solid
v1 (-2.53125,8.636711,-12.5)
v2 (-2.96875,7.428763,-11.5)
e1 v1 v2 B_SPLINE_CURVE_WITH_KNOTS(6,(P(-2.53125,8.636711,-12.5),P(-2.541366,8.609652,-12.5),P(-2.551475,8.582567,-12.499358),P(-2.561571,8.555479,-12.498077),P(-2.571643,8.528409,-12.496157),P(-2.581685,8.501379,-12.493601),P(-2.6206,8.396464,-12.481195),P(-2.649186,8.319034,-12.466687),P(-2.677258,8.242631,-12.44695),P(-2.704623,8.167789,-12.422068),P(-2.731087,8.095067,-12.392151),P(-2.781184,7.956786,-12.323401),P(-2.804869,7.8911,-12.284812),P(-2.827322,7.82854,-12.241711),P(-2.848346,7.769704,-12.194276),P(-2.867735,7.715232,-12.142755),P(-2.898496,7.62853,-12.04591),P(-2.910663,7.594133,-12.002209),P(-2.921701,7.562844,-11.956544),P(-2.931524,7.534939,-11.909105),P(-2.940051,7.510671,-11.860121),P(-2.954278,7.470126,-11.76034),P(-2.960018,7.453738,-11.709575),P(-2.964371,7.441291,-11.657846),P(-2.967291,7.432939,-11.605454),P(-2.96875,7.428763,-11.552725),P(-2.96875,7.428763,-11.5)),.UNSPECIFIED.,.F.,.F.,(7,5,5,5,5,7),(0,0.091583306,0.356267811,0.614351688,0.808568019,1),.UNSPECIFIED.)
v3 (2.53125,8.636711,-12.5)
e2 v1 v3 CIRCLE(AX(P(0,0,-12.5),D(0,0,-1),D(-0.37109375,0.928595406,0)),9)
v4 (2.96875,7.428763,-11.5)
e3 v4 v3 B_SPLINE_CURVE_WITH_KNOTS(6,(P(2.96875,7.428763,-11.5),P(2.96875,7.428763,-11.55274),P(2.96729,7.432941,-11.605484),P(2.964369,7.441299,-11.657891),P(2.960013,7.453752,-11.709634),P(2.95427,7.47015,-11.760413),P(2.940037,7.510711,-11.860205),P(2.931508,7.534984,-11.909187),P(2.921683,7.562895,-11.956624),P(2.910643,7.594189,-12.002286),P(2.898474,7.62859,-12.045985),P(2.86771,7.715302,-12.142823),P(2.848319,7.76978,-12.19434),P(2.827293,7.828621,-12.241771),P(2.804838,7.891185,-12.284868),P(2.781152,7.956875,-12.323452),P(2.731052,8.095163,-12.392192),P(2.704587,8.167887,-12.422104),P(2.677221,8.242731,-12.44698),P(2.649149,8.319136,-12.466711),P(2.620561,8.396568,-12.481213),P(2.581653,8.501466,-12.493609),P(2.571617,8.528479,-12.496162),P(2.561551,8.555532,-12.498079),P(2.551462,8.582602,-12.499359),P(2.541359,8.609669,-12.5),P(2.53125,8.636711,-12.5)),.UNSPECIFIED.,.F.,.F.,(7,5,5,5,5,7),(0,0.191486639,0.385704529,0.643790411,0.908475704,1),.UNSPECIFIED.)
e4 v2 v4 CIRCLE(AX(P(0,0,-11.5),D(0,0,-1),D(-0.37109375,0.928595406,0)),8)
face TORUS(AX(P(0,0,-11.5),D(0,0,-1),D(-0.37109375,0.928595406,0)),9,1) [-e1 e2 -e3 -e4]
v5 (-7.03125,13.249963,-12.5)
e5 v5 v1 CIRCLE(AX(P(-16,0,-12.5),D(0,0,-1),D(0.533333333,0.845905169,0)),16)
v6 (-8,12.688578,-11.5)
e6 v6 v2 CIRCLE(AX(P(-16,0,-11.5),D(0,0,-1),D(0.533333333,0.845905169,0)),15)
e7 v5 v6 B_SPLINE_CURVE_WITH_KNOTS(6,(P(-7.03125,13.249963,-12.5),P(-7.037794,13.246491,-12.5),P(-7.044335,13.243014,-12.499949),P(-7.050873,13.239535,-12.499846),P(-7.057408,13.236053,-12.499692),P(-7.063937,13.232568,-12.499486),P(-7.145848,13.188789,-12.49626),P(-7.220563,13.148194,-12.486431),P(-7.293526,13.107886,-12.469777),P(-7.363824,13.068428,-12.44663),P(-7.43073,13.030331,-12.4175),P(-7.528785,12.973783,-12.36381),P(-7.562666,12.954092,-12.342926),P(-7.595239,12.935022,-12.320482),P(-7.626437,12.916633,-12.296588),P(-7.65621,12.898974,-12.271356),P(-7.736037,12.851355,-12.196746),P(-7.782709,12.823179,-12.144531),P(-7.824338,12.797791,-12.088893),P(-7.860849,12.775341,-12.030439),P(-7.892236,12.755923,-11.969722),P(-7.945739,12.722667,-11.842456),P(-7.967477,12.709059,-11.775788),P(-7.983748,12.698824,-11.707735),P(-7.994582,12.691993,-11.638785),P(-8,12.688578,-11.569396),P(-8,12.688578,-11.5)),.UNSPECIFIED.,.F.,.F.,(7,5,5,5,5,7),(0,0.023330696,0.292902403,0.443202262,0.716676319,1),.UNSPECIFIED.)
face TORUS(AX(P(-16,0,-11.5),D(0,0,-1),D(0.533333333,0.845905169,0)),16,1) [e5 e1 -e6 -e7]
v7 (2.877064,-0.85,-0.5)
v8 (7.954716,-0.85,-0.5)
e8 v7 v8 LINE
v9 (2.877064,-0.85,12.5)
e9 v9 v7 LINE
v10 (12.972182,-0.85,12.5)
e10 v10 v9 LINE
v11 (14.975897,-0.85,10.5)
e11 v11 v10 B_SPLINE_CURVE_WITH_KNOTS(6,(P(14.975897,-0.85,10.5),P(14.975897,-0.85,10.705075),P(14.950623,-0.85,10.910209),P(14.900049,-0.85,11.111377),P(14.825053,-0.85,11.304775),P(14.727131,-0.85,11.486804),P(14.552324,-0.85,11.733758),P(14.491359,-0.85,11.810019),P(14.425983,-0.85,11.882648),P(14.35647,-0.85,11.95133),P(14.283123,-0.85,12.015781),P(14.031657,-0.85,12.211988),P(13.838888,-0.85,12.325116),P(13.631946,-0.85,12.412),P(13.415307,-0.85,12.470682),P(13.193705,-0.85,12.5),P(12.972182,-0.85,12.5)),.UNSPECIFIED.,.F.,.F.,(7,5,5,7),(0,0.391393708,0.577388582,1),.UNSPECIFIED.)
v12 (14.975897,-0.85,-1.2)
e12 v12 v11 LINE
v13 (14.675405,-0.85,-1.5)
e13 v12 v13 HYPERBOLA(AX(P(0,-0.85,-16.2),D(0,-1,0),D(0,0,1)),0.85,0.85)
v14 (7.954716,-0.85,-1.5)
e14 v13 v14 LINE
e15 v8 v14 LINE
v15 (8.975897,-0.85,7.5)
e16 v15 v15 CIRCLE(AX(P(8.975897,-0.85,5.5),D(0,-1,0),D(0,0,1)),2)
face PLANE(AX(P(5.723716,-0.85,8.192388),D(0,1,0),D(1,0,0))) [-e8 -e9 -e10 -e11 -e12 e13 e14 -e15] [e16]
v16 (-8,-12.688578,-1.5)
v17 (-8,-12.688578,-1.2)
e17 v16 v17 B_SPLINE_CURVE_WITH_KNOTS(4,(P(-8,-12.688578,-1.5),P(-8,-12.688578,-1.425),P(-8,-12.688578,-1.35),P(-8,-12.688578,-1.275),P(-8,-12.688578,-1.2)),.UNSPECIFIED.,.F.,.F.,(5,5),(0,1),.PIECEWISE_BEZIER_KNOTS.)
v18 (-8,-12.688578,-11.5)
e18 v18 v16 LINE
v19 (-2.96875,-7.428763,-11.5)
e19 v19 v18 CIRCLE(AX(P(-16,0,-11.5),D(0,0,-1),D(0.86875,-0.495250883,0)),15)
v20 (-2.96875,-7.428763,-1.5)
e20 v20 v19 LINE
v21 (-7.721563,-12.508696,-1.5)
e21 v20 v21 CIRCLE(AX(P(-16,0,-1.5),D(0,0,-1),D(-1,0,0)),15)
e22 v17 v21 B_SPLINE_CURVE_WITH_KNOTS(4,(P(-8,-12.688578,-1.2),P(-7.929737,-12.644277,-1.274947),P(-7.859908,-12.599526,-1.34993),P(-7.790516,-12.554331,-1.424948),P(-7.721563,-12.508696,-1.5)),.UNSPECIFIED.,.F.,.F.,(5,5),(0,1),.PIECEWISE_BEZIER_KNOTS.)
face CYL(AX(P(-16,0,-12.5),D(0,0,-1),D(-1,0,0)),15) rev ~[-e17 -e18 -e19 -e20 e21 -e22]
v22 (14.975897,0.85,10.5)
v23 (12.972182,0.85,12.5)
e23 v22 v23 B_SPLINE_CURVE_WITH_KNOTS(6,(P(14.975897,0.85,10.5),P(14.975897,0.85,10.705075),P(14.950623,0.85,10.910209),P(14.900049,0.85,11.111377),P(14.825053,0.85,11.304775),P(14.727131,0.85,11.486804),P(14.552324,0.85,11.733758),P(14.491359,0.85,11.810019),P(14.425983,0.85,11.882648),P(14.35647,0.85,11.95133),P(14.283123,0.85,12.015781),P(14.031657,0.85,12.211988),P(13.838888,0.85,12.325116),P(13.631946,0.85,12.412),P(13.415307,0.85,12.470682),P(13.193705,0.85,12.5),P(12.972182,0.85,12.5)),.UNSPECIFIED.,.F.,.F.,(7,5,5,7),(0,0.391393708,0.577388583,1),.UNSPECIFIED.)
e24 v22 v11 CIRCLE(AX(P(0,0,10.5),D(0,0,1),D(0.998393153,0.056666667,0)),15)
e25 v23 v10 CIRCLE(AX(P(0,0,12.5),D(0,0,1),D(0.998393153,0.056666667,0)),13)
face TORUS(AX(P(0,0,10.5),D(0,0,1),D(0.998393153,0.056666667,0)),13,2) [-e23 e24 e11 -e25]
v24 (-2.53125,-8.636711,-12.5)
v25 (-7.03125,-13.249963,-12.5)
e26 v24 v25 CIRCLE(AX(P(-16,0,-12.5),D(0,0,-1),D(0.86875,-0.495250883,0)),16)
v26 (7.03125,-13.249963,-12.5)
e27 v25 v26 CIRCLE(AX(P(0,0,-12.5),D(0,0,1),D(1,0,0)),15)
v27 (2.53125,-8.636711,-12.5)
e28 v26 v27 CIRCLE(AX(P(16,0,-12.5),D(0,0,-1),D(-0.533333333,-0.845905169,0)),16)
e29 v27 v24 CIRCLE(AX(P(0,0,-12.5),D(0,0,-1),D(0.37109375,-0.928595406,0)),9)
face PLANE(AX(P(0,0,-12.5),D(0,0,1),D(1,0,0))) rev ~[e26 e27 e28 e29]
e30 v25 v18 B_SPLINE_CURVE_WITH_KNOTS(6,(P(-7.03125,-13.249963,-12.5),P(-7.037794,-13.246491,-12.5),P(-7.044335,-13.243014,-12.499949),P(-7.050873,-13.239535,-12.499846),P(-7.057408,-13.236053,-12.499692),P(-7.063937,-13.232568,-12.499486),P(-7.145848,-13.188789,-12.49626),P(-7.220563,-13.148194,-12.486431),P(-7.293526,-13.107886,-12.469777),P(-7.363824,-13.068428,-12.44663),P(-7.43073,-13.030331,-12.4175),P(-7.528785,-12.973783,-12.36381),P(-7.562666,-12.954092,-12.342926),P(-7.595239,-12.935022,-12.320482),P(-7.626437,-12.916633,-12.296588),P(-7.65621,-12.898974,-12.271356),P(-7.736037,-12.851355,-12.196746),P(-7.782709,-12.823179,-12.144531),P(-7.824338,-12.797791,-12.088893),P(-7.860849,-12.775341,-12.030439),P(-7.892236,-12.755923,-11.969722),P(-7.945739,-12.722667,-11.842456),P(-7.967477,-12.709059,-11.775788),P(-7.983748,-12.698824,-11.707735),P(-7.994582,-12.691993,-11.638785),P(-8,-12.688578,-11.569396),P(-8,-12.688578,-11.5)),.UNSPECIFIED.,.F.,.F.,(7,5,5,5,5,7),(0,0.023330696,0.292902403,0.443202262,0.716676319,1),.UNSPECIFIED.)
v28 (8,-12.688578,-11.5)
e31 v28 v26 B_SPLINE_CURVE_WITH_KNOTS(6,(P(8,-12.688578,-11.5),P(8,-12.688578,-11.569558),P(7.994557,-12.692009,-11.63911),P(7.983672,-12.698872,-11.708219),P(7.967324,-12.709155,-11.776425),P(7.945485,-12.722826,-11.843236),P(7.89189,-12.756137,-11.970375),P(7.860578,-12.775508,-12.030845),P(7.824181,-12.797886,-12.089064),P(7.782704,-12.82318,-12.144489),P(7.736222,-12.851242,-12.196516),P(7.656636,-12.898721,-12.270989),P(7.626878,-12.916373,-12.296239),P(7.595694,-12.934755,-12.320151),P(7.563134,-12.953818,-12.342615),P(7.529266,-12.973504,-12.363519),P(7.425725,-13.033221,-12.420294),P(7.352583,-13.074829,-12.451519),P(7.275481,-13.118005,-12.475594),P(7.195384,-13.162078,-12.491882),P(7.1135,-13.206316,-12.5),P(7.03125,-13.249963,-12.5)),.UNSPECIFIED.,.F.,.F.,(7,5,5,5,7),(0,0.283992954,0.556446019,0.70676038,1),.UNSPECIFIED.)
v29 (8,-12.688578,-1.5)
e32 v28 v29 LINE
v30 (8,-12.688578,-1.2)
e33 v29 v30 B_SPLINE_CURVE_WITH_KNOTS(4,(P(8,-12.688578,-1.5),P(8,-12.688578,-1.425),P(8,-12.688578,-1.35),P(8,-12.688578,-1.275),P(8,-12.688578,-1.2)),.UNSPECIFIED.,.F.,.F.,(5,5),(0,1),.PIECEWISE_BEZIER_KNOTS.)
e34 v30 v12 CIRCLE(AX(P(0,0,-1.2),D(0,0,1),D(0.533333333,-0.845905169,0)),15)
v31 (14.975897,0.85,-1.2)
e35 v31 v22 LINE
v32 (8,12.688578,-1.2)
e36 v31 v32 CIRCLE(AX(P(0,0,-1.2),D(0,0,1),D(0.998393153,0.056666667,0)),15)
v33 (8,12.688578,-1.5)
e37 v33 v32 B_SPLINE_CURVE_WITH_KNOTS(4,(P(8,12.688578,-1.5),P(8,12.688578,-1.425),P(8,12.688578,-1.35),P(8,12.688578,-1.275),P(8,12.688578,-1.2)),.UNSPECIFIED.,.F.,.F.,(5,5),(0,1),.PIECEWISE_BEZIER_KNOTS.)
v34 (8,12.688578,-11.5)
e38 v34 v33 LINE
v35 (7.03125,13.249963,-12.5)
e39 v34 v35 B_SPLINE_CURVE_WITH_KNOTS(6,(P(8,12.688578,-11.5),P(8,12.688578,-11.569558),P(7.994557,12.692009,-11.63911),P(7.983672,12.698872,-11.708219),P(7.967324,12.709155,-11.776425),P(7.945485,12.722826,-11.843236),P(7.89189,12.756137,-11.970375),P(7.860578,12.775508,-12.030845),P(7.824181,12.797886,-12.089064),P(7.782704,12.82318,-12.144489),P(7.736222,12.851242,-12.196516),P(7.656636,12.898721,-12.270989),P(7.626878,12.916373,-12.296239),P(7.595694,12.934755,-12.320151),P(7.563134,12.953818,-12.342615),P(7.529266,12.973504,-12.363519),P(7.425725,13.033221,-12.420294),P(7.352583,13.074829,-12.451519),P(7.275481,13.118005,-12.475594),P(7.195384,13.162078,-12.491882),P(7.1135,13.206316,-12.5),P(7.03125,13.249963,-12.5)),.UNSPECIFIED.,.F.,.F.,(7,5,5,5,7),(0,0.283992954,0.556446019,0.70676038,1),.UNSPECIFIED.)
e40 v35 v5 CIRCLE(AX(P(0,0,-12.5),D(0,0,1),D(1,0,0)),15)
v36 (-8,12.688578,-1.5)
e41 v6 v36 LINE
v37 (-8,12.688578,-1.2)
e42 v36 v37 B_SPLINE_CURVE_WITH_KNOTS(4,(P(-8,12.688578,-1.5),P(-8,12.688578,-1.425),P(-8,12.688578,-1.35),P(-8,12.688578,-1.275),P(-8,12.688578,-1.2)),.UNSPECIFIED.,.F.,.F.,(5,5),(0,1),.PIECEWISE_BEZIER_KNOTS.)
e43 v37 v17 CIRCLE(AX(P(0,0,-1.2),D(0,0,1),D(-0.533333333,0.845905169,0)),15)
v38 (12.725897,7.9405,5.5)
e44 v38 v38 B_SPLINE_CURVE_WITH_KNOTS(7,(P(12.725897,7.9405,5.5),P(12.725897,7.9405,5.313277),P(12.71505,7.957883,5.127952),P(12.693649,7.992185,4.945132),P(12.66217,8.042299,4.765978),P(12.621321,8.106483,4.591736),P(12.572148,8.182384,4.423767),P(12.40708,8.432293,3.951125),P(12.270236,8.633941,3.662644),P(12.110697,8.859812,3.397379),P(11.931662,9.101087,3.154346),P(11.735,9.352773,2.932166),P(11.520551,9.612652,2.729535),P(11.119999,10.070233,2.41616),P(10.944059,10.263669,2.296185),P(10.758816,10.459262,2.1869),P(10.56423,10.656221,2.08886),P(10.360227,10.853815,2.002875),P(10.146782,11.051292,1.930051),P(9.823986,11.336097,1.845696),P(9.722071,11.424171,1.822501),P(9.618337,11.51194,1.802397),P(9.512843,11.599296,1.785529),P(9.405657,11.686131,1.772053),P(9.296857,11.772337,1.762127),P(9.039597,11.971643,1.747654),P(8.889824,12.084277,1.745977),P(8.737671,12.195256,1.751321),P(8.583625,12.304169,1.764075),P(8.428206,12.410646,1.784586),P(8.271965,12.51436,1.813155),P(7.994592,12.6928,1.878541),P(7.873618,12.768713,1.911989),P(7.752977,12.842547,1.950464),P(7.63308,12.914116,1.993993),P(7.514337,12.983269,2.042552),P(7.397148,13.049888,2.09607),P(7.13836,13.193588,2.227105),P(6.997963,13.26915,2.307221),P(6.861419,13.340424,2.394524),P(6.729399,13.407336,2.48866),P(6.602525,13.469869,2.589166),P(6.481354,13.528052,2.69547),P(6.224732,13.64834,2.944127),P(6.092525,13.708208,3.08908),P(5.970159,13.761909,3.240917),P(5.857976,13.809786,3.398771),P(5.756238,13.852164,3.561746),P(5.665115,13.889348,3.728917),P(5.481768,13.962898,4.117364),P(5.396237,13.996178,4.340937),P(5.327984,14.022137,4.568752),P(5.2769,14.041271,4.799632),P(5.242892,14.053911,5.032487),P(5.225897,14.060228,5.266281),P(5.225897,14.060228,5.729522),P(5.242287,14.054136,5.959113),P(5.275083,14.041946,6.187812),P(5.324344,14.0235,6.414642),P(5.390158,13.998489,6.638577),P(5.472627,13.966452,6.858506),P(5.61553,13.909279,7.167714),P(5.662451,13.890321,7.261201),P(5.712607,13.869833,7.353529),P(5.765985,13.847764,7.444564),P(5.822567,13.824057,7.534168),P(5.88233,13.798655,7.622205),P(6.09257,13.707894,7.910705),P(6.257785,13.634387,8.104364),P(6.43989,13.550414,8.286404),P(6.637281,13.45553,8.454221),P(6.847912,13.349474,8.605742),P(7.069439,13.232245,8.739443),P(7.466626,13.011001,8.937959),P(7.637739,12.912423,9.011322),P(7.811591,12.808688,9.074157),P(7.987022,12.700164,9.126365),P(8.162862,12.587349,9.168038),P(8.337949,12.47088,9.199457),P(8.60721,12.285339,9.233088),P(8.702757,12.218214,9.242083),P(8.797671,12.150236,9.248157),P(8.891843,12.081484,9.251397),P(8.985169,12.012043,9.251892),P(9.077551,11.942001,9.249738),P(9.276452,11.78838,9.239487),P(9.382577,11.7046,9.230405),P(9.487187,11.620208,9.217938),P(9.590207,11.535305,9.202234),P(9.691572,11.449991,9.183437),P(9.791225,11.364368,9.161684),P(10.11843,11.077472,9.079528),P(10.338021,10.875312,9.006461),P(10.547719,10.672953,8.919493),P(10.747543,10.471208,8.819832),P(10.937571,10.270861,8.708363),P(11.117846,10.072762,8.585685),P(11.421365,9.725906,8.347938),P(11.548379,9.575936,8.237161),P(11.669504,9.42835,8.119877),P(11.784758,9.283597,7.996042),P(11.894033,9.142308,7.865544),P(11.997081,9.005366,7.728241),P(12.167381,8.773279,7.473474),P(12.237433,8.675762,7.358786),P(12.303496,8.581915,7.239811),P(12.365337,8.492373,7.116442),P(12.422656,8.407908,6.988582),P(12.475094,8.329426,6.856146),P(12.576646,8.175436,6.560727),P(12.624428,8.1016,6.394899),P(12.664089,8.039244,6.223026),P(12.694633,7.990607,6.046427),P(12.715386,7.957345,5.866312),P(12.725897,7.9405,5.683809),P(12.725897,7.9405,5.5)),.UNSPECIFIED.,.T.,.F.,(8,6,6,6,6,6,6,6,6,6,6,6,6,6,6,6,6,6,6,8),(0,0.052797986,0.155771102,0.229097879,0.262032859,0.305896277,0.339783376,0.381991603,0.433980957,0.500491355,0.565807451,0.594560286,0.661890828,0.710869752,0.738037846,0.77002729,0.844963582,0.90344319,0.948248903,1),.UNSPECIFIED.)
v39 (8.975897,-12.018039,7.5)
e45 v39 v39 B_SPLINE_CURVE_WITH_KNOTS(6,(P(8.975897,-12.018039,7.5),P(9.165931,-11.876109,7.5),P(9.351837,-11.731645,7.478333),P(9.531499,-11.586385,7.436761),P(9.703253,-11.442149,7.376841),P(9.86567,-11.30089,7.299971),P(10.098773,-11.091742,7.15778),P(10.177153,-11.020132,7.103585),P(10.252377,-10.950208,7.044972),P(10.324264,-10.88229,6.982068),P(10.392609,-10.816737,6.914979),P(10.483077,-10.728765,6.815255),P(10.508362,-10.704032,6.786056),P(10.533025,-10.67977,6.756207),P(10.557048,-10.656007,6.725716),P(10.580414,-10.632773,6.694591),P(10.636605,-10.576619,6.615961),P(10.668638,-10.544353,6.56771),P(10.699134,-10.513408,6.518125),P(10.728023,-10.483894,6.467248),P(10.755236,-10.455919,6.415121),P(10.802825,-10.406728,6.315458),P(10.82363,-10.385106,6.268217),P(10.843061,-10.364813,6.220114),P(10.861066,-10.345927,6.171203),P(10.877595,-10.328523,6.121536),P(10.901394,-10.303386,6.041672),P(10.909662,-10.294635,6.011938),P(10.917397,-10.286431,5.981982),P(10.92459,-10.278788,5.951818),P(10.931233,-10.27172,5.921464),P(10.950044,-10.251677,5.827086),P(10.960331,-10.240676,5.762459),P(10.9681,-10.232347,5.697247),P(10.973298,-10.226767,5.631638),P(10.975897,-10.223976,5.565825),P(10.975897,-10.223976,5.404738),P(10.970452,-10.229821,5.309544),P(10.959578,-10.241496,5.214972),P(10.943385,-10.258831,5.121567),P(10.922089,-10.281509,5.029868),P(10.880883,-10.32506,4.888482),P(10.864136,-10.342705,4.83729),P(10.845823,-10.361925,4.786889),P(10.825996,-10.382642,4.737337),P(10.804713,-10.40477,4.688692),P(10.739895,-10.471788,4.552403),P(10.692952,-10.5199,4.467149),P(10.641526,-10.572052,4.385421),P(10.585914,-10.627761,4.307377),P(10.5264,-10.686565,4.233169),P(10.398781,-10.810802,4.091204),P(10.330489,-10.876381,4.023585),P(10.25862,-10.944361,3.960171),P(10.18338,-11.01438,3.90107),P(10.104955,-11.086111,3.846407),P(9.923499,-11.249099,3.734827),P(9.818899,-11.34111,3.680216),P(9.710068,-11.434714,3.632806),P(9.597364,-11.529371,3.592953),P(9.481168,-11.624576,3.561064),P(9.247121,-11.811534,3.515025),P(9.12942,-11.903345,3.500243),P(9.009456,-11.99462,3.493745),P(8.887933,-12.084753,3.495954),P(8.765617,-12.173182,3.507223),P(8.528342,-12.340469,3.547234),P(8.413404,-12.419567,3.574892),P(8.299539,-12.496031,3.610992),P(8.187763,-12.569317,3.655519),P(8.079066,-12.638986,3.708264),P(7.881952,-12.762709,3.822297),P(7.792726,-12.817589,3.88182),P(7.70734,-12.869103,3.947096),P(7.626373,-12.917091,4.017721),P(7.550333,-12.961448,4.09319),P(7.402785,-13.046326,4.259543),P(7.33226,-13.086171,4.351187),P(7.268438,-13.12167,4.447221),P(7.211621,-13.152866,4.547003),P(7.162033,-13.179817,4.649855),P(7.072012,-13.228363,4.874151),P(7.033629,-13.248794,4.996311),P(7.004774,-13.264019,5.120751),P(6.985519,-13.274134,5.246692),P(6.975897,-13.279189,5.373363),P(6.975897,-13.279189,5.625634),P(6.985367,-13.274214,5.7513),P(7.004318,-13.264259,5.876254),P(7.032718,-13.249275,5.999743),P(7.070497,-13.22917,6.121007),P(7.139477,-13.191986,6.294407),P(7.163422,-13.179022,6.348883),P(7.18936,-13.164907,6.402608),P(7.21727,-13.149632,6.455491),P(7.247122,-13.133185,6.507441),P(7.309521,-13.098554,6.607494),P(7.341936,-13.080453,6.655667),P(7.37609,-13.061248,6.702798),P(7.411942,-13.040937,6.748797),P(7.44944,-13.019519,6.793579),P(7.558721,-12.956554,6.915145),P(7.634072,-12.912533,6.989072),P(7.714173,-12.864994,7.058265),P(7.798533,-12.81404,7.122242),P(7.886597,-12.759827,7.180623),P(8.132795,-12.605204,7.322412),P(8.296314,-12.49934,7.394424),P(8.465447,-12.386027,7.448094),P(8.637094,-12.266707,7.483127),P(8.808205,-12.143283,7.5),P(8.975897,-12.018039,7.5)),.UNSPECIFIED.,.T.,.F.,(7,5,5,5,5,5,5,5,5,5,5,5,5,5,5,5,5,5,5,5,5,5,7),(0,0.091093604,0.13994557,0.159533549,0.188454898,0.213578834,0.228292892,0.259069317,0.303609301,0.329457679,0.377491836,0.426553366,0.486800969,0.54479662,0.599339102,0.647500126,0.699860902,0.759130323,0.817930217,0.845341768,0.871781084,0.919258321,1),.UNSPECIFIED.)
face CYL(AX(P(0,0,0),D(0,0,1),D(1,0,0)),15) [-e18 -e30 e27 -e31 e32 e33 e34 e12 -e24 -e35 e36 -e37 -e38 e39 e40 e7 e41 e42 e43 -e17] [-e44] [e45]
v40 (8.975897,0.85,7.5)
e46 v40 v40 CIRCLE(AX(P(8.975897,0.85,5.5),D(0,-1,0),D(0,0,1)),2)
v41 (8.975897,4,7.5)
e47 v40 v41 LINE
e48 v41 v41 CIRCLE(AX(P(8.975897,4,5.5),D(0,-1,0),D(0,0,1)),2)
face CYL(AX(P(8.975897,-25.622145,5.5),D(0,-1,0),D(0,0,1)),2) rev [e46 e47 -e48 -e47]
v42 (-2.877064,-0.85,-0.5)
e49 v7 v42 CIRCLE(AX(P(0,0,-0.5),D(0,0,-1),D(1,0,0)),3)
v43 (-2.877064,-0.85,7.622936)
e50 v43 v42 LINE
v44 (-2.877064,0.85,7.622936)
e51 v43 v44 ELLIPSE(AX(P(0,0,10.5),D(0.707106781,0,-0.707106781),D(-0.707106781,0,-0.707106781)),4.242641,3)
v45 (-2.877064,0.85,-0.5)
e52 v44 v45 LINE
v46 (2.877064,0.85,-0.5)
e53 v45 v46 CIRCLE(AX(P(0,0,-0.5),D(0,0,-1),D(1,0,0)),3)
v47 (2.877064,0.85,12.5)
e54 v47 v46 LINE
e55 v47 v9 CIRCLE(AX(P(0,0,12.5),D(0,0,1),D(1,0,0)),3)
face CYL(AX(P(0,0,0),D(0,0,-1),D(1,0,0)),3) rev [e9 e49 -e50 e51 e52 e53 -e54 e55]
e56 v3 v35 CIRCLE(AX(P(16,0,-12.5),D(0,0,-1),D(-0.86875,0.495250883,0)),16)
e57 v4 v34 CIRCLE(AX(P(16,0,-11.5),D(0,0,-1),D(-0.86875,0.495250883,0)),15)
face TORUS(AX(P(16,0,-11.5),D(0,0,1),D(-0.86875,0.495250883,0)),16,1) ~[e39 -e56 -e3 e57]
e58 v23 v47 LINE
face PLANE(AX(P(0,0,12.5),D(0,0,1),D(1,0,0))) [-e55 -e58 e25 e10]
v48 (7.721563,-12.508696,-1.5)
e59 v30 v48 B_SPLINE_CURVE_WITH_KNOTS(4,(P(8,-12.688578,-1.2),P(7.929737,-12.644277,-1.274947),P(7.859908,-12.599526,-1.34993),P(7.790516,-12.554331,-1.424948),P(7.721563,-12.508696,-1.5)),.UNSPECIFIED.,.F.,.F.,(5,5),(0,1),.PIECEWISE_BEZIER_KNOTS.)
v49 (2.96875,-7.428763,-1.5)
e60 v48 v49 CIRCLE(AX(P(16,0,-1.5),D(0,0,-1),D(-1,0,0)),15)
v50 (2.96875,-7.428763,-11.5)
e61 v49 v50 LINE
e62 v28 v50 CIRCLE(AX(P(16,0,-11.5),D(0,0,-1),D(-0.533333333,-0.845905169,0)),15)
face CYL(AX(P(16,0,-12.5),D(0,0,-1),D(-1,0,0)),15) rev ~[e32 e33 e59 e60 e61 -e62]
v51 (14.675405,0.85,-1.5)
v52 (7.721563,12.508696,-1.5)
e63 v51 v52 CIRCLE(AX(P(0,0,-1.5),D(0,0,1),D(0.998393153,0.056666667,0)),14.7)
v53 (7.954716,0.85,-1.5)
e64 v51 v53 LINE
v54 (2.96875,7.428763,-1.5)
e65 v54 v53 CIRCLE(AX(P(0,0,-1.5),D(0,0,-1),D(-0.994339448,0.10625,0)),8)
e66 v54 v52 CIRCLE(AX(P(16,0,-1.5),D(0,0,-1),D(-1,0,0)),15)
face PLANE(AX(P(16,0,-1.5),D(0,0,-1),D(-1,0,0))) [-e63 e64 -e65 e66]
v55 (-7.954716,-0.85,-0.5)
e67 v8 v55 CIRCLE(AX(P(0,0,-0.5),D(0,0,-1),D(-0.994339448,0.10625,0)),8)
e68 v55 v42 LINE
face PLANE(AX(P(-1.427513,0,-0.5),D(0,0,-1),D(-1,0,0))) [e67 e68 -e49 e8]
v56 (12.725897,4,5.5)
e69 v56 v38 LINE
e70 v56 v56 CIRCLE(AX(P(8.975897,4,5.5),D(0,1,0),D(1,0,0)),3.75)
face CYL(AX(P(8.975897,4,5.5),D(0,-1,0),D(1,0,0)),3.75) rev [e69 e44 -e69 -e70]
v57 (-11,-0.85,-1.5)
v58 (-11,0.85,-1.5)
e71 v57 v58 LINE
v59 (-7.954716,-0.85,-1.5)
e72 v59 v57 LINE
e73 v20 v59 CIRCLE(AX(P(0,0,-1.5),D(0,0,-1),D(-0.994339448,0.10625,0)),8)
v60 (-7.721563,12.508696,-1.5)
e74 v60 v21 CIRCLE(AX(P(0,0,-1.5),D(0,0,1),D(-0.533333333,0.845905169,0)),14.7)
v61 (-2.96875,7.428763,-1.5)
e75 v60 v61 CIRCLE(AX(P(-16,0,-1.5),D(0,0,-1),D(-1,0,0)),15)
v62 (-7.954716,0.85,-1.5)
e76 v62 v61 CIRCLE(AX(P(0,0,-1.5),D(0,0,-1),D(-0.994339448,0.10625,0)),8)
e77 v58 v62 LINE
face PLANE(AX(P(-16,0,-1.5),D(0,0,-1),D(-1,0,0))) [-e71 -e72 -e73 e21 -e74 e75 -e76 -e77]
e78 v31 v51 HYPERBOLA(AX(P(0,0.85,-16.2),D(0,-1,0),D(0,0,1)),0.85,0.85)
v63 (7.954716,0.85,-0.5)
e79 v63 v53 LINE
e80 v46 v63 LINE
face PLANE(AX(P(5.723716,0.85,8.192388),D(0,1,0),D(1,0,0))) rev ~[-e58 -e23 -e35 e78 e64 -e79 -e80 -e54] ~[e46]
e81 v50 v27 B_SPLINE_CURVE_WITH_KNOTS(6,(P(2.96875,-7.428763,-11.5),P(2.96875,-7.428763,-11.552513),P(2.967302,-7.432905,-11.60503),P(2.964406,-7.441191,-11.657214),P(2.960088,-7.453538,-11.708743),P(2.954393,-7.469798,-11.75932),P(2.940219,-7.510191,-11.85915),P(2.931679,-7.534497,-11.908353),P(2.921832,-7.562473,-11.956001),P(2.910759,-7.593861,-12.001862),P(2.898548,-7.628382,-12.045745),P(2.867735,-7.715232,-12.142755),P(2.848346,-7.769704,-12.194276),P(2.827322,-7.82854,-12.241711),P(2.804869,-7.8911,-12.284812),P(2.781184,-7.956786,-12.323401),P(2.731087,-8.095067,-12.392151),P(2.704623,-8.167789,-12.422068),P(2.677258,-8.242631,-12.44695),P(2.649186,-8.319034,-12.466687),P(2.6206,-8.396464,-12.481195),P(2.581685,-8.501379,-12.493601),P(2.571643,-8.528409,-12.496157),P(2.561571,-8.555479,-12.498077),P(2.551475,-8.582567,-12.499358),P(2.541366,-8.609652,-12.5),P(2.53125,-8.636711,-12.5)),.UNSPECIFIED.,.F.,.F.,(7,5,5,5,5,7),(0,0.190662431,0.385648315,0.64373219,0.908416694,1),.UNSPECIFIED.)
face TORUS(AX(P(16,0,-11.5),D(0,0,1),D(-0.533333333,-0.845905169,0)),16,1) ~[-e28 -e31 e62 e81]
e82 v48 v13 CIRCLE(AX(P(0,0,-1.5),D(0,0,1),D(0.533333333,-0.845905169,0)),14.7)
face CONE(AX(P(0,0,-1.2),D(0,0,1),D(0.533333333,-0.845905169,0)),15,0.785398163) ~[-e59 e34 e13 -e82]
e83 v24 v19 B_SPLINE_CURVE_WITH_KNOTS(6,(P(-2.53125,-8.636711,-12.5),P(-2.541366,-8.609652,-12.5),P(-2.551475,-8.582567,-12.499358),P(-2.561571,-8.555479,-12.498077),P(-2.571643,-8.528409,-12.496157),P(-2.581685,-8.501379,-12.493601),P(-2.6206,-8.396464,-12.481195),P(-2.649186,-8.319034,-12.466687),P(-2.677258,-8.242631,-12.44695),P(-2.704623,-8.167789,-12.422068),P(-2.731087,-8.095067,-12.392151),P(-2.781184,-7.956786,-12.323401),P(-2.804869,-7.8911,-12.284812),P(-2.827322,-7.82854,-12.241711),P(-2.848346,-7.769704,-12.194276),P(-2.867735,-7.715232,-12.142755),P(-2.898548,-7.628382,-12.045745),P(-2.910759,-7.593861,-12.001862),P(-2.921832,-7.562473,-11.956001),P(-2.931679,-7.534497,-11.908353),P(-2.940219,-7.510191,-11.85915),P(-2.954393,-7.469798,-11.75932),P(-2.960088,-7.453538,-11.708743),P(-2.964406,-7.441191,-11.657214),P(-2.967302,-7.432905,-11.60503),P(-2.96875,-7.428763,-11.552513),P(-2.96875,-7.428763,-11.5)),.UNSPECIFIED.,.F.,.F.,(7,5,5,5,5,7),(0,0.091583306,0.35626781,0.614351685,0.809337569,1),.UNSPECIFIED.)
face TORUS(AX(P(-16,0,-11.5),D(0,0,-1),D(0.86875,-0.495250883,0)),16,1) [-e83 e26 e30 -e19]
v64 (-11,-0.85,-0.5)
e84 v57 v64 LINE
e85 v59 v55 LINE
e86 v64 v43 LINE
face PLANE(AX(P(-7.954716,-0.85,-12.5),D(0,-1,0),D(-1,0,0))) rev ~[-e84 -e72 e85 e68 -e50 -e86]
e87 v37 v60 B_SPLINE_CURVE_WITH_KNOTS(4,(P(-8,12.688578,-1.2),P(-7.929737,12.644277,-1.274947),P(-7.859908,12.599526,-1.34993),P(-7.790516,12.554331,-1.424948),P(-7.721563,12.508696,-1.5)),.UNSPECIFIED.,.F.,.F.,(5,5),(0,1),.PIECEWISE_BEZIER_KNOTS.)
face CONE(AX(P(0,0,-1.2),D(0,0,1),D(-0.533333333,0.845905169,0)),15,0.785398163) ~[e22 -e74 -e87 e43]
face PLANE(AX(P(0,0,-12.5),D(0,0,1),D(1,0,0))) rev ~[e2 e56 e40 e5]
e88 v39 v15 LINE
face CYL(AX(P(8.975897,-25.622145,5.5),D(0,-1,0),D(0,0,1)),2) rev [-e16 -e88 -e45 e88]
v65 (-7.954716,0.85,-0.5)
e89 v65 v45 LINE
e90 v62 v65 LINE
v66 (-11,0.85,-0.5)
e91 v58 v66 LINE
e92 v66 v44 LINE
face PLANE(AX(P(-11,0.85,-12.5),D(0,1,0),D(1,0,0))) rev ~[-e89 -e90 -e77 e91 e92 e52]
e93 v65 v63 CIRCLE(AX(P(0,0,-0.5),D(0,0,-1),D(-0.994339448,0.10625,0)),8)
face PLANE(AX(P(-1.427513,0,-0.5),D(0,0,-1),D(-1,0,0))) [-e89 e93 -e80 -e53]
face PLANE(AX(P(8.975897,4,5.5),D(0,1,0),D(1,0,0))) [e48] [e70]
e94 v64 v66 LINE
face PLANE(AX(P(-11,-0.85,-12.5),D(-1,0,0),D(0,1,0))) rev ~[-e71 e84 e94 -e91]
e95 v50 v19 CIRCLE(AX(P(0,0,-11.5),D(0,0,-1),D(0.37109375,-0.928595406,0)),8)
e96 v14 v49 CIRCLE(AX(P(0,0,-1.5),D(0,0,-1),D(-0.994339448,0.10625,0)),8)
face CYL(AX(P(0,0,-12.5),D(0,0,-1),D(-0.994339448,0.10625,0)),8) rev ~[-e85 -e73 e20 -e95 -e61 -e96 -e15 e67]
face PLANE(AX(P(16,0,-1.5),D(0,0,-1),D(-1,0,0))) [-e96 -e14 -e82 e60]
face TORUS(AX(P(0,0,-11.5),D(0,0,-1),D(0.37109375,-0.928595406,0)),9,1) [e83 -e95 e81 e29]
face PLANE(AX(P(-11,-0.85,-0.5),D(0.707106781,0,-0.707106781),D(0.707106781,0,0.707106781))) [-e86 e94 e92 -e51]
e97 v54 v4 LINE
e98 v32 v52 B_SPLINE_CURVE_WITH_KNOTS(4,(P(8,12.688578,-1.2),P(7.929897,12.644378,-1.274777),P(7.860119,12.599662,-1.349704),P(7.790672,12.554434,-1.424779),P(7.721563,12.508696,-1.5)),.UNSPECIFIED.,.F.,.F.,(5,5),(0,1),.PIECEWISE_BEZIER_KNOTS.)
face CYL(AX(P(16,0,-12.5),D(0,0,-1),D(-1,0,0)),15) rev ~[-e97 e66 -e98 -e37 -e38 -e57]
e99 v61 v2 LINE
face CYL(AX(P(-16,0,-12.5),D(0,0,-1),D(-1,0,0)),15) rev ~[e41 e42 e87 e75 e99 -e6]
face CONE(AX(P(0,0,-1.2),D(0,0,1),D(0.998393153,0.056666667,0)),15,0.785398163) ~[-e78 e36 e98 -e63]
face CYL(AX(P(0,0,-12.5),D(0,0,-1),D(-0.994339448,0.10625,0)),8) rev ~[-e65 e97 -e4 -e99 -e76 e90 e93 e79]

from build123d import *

# Parameters (mm, degrees)
SKETCH1_R               = 15
SKETCH1_R_2             = 3
BOSS_EXTRUDE1_DEPTH     = 12.5
SKETCH2_R               = 15
CUT_EXTRUDE1_DEPTH      = 11
CUT_EXTRUDE2_DEPTH      = 12
CUT_EXTRUDE3_DEPTH      = 1.7
CUT_EXTRUDE4_DEPTH      = 25.622144504
CUT_EXTRUDE4_DEPTH_BACK = 25.622144504
SKETCH7_R               = 2
CUT_EXTRUDE5_START      = 4.85
SKETCH8_R               = 3.75
CUT_EXTRUDE5_DEPTH      = 21.299006117
FILLET1_R               = 2
FILLET2_R               = 1
CHAMFER1_SIZE           = 0.3


with BuildPart() as part:
    # Sketch1 → Boss-Extrude1 (new, symmetric)
    with BuildSketch(Plane.XY):
        Circle(SKETCH1_R)
        Circle(SKETCH1_R_2, mode=Mode.SUBTRACT)
    extrude(amount=BOSS_EXTRUDE1_DEPTH, both=True)

    # Sketch2 → Cut-Extrude1 (cut)
    with BuildSketch(Plane(origin=(0, 0, -12.5), x_dir=(-1, 0, 0), z_dir=(0, 0, -1))):
        with Locations((-16, 0)):
            Circle(SKETCH2_R)
        with Locations((16, 0)):
            Circle(SKETCH2_R)
    extrude(amount=-CUT_EXTRUDE1_DEPTH, mode=Mode.SUBTRACT)

    # Sketch3 → Cut-Extrude2 (cut)
    with BuildSketch(Plane(origin=(0, 0, -12.5), x_dir=(-1, 0, 0), z_dir=(0, 0, -1))):
        with BuildLine():
            Line((7.954715583, -0.85), (11, -0.85))
            Line((11, -0.85), (11, 0.85))
            Line((11, 0.85), (7.954715583, 0.85))
            ThreePointArc((7.954715583, 0.85), (-8, 0), (7.954715583, -0.85))
        make_face()
    extrude(amount=-CUT_EXTRUDE2_DEPTH, mode=Mode.SUBTRACT)

    # Sketch6 → Cut-Extrude3 (cut)
    with BuildSketch(Plane(origin=(0, -0.85, 0), x_dir=(1, 0, 0), z_dir=(0, 1, 0))):
        Polygon((-11, 0.5), (15, -25.5), (15, 0.5), (15, 1.5), (-11, 1.5), align=None)
    extrude(amount=CUT_EXTRUDE3_DEPTH, mode=Mode.SUBTRACT)

    # Sketch7 → Cut-Extrude4 (cut, two sides: drawn at the far end of the back side and taken through both)
    with BuildSketch(Plane(origin=(0, 0, 0), x_dir=(1, 0, 0), z_dir=(0, 1, 0)).offset(-CUT_EXTRUDE4_DEPTH_BACK)):
        with Locations(Location((8.975897302, -5.5, 0), (0, 0, 270))):
            Circle(SKETCH7_R)
    extrude(amount=CUT_EXTRUDE4_DEPTH + CUT_EXTRUDE4_DEPTH_BACK, mode=Mode.SUBTRACT)

    # Sketch8 → Cut-Extrude5 (cut, through all)
    with BuildSketch(Plane(origin=(0, -0.85, 0), x_dir=(1, 0, 0), z_dir=(0, 1, 0)).offset(CUT_EXTRUDE5_START)):
        with Locations((8.975897302, -5.5)):
            Circle(SKETCH8_R)
    extrude(amount=CUT_EXTRUDE5_DEPTH, mode=Mode.SUBTRACT)

    # Fillet1
    fillet1_edges = [part.edges().sort_by_distance(p)[0] for p in [
        (-15, 0, 12.5),
    ]]
    fillet(fillet1_edges, radius=FILLET1_R)

    # Fillet2
    fillet2_edges = [part.edges().sort_by_distance(p)[0] for p in [
        (5.160499055, -10.368472369, -12.5),
        (-5.160499055, 10.368472369, -12.5),
        (-5.160499055, -10.368472369, -12.5),
        (5.160499055, 10.368472369, -12.5),
        (0, 8, -12.5),
        (0, -8, -12.5),
    ]]
    fillet(fillet2_edges, radius=FILLET2_R)

    # Chamfer1
    chamfer1_edges = [part.edges().sort_by_distance(p)[0] for p in [
        (12.923271403, 7.615054579, -1.5),
        (-15, 0, -1.5),
        (12.923271403, -7.615054579, -1.5),
    ]]
    chamfer(chamfer1_edges, length=CHAMFER1_SIZE)


solid = part.part
